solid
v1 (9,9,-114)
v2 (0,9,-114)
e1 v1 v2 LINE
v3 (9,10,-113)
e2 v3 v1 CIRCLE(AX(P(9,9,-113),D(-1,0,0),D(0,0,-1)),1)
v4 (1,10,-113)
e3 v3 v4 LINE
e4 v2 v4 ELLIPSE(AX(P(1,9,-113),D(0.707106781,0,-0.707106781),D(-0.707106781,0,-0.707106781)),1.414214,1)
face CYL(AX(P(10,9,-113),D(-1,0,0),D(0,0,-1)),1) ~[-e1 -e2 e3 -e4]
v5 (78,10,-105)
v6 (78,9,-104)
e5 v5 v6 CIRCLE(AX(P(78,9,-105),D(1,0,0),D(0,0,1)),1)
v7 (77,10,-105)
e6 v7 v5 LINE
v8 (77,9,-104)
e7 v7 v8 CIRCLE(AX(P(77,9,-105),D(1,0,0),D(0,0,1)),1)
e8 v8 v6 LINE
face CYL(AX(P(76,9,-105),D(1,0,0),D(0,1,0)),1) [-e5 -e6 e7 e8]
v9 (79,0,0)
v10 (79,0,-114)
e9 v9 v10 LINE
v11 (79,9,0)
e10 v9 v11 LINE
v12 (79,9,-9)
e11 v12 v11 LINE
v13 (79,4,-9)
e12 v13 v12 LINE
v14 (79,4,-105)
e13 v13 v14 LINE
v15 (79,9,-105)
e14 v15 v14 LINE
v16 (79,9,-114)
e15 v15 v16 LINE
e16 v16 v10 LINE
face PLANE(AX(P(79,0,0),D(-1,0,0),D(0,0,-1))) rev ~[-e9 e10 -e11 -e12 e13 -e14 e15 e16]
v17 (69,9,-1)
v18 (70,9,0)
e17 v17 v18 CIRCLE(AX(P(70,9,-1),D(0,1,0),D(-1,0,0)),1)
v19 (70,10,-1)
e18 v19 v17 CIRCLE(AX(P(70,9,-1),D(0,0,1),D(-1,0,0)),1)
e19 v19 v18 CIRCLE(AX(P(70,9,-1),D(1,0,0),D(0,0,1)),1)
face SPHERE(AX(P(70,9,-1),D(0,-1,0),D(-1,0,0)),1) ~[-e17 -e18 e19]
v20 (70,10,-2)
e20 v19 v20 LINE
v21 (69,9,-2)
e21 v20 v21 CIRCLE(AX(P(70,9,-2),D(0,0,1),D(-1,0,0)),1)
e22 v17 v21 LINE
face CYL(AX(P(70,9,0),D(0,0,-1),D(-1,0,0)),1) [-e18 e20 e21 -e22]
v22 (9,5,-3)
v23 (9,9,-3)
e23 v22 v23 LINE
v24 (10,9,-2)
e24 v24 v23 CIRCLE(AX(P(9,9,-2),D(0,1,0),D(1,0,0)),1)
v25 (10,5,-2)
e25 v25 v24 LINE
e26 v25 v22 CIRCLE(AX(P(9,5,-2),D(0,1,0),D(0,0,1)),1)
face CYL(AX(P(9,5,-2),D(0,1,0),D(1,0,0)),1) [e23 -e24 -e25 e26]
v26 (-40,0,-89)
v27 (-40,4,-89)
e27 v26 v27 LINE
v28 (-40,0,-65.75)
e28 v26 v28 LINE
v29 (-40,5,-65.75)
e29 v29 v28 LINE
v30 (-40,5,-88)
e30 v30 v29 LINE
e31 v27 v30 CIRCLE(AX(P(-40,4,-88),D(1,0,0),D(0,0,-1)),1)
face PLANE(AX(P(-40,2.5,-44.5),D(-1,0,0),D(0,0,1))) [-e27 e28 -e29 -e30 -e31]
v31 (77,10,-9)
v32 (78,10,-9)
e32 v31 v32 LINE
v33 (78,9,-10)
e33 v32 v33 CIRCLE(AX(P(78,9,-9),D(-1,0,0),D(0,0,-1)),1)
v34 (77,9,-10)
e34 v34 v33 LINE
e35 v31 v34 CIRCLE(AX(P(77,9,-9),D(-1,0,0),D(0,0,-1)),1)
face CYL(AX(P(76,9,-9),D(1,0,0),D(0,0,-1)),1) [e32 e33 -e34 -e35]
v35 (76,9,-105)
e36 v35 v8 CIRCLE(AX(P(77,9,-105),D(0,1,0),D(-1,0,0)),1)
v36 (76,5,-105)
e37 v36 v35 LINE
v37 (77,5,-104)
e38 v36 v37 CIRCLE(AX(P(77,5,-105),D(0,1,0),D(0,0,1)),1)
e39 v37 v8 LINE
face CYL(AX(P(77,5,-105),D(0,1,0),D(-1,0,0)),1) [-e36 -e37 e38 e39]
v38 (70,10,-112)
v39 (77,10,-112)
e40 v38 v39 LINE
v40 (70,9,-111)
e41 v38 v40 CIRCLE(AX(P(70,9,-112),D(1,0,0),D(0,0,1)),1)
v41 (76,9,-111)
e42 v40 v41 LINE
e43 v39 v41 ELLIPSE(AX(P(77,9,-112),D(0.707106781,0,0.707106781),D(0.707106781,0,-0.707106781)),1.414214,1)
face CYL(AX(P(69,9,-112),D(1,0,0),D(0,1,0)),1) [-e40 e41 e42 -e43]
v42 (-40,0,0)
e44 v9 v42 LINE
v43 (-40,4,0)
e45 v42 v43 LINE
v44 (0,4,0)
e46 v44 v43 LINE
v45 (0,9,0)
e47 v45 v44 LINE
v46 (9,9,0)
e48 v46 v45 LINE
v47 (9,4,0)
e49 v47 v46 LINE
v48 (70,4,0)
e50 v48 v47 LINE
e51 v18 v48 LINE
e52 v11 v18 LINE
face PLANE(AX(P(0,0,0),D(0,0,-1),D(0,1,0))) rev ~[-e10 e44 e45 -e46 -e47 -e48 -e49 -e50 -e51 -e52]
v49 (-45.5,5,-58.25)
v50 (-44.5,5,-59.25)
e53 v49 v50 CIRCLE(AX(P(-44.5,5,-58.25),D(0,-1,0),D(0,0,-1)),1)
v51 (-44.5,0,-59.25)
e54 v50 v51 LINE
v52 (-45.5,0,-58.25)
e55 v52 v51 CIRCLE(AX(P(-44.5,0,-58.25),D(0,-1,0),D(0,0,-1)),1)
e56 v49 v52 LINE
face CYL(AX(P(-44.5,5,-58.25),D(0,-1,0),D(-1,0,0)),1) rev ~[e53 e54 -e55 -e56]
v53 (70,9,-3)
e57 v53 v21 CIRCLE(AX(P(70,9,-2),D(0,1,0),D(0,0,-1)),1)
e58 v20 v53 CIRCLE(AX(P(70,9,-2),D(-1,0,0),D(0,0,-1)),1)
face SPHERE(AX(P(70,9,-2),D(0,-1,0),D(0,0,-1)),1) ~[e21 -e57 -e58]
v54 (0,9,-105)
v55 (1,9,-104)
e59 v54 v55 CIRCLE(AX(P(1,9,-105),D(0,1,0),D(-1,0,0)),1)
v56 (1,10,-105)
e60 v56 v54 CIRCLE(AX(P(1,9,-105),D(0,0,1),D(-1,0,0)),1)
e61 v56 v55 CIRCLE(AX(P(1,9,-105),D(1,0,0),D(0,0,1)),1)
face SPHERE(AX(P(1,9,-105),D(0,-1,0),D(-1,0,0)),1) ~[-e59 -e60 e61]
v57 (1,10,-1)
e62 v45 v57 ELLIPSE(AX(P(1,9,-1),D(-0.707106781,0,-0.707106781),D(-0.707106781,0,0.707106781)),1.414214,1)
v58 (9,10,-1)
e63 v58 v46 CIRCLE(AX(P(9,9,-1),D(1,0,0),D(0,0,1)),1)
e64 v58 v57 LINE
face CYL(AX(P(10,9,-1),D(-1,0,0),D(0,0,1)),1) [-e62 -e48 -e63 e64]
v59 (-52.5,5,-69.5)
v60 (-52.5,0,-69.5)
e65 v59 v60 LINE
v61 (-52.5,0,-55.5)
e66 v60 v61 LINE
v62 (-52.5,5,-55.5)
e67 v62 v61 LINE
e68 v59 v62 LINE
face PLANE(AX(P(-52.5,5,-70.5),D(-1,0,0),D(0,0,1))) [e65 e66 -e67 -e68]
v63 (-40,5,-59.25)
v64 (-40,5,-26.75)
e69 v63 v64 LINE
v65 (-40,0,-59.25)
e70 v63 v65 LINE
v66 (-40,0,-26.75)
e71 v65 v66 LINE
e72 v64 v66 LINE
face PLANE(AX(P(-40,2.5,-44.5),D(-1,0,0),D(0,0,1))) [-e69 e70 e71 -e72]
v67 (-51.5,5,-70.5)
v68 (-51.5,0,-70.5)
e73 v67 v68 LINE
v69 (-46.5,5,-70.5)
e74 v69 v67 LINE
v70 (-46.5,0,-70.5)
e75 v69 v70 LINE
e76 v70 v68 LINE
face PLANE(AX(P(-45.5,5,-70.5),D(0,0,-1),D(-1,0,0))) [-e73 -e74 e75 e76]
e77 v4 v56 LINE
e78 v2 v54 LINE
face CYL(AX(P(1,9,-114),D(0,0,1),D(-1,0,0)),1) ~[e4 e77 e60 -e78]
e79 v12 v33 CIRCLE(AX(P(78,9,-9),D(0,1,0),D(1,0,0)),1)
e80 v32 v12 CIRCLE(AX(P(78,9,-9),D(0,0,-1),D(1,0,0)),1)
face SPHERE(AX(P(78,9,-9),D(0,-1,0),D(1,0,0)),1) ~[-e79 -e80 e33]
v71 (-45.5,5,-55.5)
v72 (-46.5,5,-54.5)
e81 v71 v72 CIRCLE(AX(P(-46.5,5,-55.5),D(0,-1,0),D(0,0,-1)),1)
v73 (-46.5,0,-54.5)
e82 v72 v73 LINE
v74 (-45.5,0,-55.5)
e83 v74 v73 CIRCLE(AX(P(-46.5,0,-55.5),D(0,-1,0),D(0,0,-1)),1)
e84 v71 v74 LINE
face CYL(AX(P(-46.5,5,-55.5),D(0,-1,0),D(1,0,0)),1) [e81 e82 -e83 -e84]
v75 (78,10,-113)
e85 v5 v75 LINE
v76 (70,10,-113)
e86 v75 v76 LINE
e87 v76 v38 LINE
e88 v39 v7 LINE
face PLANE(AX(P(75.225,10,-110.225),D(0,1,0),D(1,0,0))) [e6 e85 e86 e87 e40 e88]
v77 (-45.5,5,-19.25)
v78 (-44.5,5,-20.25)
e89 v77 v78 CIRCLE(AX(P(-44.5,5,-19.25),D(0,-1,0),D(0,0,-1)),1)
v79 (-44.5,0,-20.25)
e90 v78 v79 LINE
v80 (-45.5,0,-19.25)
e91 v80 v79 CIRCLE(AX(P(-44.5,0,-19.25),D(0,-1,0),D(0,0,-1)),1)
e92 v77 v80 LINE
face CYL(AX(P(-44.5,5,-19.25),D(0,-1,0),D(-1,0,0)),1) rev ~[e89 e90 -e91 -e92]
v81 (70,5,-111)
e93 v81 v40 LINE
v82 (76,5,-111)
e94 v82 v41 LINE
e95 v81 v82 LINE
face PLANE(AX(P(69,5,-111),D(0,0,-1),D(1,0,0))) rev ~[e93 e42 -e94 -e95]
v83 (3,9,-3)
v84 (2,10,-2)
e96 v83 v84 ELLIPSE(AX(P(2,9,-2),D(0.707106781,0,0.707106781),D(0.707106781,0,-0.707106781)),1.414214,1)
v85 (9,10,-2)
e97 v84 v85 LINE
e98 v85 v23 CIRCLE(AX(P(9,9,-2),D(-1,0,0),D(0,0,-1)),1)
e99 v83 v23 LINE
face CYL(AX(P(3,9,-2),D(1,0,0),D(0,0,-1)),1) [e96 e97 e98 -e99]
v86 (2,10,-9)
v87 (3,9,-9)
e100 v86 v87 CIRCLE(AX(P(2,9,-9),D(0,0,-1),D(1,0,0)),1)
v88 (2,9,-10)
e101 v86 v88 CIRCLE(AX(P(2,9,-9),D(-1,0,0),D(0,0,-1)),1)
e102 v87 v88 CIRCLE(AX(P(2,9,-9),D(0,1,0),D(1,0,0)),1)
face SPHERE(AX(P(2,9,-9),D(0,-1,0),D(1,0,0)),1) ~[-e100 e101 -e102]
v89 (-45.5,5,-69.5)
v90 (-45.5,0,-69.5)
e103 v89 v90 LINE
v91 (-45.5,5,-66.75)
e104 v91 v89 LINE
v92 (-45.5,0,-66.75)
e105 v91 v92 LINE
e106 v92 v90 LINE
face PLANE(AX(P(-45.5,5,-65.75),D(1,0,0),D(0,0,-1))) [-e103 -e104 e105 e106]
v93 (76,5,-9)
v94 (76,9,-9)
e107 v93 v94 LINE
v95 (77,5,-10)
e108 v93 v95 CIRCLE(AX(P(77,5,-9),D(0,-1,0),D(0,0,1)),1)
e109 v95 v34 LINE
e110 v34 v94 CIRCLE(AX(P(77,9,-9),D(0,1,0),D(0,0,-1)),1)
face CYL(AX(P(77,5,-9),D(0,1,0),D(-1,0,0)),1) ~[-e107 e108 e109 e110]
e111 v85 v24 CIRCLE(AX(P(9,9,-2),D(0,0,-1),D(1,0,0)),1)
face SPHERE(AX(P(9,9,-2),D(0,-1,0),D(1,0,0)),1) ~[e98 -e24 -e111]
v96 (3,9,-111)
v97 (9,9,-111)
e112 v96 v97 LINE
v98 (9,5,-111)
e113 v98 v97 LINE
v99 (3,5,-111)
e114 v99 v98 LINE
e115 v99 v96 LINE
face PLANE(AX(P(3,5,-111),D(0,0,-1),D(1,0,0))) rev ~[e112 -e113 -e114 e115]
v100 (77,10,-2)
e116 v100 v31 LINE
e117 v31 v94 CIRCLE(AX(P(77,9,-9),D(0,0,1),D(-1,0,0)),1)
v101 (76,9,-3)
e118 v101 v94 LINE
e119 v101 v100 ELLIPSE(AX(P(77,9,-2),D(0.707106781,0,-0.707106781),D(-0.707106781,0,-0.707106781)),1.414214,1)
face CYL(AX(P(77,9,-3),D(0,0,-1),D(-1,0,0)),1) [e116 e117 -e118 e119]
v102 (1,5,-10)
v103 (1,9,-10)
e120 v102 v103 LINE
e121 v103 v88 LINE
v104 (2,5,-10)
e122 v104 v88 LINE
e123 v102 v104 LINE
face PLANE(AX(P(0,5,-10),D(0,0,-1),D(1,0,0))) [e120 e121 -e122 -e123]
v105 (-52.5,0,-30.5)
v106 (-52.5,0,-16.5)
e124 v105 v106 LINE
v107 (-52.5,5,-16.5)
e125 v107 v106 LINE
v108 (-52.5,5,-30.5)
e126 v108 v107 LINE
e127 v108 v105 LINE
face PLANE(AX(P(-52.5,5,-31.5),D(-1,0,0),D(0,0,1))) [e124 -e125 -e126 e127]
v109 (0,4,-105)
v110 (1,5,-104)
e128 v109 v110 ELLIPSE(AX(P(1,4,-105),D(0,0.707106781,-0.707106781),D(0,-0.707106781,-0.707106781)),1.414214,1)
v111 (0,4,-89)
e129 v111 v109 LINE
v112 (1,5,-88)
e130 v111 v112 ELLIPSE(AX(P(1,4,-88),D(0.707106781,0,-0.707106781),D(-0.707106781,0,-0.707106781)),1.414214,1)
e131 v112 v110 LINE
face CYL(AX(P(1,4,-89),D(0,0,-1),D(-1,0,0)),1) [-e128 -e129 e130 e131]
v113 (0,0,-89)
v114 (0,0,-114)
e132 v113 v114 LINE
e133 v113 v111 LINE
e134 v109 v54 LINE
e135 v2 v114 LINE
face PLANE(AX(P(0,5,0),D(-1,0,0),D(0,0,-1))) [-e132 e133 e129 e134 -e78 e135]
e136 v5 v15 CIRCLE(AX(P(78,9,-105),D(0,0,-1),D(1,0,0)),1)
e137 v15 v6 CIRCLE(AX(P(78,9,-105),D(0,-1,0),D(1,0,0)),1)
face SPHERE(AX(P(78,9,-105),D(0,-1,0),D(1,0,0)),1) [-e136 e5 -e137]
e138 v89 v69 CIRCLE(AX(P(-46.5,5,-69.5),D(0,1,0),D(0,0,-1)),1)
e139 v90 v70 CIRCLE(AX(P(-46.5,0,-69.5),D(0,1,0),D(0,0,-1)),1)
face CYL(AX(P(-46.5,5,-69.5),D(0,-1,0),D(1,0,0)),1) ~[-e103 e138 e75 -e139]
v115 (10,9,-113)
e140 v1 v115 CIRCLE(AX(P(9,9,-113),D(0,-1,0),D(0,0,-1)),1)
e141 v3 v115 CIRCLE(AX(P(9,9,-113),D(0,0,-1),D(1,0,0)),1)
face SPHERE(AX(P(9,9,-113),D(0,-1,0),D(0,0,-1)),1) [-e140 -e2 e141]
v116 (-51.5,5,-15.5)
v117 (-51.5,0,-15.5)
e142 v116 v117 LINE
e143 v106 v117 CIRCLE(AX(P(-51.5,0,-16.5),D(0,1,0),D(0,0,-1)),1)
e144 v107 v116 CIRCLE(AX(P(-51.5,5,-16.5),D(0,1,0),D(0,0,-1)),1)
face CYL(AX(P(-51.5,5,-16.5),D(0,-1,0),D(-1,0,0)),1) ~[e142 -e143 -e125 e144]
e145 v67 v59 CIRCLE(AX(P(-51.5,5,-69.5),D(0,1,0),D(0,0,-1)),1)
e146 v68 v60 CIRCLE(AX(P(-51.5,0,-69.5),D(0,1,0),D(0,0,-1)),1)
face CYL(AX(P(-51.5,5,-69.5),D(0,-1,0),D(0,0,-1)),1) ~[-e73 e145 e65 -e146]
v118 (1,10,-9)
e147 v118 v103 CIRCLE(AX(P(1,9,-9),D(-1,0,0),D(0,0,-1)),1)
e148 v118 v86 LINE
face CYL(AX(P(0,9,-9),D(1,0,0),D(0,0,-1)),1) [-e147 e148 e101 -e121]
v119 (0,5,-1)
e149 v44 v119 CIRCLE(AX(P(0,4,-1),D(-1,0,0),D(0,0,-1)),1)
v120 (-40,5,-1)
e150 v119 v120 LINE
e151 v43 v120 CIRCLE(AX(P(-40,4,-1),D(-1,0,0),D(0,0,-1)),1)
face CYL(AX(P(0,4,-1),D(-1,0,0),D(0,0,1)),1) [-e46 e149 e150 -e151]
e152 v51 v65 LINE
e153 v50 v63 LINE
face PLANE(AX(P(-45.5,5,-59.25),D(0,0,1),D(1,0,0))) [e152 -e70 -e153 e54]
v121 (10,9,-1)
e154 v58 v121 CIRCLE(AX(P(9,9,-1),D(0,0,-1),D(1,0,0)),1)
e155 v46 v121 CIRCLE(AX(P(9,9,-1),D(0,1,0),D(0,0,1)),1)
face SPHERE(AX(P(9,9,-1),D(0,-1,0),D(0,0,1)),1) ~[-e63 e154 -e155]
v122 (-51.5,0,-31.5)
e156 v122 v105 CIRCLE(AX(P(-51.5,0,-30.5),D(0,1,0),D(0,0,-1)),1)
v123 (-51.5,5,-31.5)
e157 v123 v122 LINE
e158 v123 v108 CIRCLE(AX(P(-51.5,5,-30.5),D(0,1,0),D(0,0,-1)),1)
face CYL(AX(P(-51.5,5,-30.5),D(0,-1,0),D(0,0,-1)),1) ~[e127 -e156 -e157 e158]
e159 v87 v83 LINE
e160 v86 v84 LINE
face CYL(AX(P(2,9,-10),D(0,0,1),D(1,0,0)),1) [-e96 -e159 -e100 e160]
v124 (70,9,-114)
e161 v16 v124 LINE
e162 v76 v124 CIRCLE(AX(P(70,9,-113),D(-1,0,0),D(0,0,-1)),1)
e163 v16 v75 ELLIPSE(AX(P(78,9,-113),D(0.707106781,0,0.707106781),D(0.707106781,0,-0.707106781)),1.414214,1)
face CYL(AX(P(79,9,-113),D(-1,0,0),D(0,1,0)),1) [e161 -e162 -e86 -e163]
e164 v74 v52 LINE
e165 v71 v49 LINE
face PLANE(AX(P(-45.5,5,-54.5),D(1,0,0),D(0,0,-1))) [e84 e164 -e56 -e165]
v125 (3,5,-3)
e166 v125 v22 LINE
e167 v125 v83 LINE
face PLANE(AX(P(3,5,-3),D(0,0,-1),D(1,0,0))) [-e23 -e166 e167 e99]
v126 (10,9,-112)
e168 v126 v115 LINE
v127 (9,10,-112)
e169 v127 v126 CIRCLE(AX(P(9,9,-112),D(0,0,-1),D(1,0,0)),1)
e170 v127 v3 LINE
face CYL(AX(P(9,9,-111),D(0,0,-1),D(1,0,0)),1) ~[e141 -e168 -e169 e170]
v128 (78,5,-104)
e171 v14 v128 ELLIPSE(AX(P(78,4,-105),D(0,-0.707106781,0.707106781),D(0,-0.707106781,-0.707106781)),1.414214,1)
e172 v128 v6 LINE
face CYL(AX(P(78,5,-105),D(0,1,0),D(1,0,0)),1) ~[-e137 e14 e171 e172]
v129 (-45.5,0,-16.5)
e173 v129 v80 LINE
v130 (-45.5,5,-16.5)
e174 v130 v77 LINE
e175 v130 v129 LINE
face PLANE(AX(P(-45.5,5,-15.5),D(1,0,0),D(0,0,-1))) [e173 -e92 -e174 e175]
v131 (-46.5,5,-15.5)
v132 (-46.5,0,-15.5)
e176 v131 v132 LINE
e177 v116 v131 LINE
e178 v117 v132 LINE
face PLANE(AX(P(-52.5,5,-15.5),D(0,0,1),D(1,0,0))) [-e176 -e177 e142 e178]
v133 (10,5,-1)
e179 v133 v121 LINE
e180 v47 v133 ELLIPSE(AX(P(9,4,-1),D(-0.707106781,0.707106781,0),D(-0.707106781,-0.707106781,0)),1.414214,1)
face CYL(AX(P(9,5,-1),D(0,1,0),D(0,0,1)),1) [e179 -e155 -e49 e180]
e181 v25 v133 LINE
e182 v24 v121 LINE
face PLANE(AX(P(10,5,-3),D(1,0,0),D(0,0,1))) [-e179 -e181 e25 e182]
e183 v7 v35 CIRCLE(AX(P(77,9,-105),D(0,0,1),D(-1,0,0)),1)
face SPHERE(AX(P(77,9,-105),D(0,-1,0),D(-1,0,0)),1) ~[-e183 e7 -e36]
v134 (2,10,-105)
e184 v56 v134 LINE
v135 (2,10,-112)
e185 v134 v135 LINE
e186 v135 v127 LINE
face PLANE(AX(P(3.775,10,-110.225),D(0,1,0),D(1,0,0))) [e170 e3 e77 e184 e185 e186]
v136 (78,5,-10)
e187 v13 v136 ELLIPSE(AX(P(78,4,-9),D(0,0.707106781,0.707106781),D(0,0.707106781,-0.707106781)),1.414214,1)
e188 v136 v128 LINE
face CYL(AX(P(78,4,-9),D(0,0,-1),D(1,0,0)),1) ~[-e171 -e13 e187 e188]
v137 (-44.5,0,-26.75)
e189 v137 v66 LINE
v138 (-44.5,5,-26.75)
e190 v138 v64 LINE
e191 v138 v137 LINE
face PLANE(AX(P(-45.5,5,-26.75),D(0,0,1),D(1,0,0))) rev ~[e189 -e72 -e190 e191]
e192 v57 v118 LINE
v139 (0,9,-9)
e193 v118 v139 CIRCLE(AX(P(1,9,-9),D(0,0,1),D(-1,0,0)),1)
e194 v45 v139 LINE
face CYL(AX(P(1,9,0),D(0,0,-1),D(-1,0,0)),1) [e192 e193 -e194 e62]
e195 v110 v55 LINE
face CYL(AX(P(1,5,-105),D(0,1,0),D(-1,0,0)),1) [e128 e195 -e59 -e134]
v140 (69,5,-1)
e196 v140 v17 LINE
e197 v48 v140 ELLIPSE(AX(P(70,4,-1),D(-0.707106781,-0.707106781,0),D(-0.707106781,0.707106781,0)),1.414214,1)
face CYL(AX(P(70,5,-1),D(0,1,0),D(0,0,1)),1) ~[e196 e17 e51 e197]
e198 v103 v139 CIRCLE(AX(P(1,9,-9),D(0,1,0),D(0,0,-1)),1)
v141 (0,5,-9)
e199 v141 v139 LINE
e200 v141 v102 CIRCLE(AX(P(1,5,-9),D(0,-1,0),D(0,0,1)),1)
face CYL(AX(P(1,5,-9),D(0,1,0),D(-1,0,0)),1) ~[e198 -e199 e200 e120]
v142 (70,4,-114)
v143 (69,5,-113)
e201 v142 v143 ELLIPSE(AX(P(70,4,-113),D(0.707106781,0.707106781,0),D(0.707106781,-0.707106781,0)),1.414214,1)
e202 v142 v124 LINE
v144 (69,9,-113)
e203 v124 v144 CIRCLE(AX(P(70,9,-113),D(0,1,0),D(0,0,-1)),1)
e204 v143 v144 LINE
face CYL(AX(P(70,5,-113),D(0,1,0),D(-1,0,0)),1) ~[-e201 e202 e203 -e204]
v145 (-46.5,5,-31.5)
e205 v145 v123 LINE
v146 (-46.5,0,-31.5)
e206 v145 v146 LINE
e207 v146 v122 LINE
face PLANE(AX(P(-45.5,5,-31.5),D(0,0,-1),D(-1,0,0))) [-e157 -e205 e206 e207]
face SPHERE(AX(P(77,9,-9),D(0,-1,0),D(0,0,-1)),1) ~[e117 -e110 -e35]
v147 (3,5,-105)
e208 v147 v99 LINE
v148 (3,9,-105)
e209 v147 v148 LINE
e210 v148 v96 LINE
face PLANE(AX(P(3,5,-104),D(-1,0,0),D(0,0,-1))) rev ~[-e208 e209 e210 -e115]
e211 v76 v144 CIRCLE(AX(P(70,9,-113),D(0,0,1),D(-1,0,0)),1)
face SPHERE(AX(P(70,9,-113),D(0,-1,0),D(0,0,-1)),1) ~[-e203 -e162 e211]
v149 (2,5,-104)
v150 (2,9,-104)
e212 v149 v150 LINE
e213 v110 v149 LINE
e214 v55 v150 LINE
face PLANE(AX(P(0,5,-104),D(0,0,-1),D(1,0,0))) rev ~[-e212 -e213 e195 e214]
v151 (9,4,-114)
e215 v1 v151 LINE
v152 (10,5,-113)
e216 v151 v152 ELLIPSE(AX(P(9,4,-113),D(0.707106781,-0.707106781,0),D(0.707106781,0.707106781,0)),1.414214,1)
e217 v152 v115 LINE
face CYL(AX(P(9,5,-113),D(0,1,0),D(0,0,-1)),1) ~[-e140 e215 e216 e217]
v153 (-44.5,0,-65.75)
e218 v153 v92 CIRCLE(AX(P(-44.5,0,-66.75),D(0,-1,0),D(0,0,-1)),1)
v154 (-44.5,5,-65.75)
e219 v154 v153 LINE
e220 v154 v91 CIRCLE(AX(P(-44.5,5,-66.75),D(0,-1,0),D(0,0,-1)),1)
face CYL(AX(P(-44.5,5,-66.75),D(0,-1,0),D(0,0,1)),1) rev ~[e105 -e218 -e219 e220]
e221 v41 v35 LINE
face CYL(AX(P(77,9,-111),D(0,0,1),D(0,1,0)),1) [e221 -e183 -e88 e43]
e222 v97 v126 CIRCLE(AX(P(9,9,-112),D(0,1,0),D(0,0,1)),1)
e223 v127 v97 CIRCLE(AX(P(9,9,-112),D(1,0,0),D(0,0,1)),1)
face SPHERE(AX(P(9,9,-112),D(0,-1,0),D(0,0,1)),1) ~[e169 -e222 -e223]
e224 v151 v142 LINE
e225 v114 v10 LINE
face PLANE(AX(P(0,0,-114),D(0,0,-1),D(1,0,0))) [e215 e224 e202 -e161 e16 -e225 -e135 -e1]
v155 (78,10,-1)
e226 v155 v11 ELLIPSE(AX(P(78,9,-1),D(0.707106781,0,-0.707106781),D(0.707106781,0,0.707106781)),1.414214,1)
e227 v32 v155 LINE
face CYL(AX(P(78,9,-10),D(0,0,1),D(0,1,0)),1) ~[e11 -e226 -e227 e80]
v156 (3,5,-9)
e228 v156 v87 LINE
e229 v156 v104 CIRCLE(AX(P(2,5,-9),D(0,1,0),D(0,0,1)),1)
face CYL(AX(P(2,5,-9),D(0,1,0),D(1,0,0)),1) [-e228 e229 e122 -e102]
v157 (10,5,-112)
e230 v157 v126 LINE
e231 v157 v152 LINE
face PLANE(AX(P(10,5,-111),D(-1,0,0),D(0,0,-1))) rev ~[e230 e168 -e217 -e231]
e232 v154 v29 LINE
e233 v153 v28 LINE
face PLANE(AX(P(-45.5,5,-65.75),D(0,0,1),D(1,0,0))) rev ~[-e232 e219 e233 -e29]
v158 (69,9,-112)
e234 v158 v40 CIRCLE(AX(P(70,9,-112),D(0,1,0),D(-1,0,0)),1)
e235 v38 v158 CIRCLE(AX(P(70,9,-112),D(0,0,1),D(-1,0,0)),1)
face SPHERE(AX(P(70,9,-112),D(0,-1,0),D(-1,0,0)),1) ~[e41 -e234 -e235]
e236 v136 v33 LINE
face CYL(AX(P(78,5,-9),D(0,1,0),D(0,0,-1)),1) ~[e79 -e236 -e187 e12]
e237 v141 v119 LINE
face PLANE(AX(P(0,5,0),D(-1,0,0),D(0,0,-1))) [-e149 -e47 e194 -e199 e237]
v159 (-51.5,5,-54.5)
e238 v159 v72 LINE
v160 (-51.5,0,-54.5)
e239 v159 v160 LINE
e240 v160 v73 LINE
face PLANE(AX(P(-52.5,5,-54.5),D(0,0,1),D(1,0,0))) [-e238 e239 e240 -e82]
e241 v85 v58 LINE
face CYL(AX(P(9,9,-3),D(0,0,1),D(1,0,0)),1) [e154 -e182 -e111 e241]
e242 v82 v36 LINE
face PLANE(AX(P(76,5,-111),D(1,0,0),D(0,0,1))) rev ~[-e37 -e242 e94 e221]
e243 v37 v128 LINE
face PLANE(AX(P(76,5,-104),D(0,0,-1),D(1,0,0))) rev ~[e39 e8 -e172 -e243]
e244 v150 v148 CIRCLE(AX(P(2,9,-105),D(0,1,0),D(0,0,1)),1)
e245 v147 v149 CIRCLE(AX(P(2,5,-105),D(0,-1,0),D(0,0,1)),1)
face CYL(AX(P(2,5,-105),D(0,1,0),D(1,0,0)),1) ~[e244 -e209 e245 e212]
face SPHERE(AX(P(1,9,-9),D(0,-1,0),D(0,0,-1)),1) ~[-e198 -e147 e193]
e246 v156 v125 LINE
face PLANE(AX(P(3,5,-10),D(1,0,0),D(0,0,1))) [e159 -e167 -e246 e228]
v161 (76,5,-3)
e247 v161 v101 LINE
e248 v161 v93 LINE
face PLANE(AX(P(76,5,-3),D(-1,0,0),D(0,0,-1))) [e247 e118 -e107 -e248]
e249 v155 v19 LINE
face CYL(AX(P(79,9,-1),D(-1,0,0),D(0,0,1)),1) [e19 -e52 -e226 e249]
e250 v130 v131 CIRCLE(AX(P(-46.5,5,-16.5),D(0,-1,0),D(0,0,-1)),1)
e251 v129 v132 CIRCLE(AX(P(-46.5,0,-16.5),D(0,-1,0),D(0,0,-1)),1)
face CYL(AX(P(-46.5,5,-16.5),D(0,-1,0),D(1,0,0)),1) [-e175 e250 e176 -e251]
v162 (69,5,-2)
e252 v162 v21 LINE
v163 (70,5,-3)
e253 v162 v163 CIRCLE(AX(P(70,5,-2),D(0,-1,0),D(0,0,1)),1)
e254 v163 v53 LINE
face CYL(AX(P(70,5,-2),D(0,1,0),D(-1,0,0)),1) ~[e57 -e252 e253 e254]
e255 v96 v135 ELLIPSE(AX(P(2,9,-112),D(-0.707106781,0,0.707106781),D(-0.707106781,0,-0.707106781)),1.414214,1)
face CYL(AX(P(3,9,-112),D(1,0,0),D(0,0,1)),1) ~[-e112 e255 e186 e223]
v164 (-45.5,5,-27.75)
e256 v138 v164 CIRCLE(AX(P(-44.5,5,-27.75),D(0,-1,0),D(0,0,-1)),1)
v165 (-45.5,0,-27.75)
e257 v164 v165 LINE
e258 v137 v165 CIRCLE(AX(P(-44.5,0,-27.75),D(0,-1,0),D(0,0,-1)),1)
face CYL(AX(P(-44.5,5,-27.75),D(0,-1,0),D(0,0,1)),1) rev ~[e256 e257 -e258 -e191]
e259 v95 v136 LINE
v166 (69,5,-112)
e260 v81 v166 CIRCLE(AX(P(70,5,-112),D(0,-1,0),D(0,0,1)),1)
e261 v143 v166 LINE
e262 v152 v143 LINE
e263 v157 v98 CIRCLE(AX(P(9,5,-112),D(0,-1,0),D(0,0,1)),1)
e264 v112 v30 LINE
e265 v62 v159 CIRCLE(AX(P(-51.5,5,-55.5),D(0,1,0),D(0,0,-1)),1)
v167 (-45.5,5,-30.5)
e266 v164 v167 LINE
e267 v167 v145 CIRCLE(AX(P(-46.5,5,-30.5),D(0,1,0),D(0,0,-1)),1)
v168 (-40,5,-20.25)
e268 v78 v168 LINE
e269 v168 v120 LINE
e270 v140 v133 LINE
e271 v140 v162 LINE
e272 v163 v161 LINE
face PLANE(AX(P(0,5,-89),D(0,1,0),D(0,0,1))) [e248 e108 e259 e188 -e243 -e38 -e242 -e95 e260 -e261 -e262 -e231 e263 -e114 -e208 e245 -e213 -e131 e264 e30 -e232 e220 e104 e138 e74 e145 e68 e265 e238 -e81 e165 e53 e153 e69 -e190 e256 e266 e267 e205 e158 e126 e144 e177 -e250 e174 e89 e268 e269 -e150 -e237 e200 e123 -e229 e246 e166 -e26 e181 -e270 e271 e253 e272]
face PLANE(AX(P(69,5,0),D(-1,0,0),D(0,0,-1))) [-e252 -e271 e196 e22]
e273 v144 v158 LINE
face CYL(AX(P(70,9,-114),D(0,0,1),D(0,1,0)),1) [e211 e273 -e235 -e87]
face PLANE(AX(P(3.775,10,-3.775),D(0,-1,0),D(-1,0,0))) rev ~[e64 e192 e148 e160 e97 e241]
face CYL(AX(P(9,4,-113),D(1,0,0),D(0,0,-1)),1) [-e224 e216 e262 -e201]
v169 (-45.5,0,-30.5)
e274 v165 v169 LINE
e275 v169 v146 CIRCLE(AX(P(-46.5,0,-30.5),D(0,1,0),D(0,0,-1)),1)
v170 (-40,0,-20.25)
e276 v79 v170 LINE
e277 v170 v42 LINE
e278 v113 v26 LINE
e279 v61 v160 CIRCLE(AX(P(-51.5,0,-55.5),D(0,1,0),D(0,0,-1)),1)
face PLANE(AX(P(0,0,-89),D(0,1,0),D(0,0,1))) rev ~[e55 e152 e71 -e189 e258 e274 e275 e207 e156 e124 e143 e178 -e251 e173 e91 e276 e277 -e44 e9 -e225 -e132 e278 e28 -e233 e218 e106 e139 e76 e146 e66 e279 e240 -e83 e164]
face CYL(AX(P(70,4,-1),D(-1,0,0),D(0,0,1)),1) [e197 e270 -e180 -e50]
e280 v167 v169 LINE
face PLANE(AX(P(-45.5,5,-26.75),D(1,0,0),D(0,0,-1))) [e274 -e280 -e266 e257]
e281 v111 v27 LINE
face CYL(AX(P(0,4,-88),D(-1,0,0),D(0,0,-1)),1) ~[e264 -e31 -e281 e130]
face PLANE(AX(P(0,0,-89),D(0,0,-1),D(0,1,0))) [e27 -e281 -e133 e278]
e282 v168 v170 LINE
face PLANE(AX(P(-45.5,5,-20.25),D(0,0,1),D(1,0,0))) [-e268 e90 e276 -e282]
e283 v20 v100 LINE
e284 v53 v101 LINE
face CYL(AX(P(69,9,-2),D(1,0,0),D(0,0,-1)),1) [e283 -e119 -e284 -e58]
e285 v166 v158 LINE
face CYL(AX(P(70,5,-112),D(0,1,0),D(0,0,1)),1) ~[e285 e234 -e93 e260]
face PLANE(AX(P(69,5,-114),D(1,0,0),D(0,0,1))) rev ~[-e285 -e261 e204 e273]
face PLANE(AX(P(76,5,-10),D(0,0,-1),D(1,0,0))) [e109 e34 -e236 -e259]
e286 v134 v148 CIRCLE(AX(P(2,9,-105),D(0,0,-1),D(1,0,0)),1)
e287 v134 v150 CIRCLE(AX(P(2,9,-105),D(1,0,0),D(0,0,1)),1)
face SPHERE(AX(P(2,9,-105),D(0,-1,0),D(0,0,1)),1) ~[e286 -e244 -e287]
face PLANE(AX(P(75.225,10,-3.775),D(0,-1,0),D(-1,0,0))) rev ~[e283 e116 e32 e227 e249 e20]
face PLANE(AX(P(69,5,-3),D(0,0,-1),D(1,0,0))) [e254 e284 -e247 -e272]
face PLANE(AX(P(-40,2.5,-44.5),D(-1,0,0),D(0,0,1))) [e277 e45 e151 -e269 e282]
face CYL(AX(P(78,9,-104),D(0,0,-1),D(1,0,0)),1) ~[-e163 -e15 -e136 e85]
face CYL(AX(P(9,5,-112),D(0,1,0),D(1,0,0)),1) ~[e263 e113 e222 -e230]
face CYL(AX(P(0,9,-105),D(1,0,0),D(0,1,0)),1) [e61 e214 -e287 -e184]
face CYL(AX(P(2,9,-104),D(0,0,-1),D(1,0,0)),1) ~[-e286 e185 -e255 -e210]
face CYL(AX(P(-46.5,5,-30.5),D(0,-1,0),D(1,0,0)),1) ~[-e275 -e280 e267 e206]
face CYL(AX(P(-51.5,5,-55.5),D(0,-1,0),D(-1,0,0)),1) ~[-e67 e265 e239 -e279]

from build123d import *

# Parameters (mm, degrees)
SKETCH1_W           = 79
SKETCH1_H           = 114
BOSS_EXTRUDE1_DEPTH = 5
BOSS_EXTRUDE2_DEPTH = 5
FILLET1_R           = 1
SKETCH3_W           = 89
SKETCH3_H           = 5
BOSS_EXTRUDE3_DEPTH = 40
BOSS_EXTRUDE4_DEPTH = 5
FILLET2_R           = 1
FILLET3_R           = 1


with BuildPart() as part:
    # Sketch1 → Boss-Extrude1 (new body)
    with BuildSketch(Plane(origin=(0, 0, 0), x_dir=(1, 0, 0), z_dir=(0, 1, 0))):
        with Locations((39.5, 57)):
            Rectangle(SKETCH1_W, SKETCH1_H)
    extrude(amount=BOSS_EXTRUDE1_DEPTH)

    # Sketch2 → Boss-Extrude2 (add)
    with BuildSketch(Plane(origin=(0, 5, 0), x_dir=(1, 0, 0), z_dir=(0, 1, 0))):
        Polygon((0, 0), (0, 10), (3, 10), (3, 3), (10, 3), (10, 0), align=None)
        Polygon((79, 0), (69, 0), (69, 3), (76, 3), (76, 10), (79, 10), align=None)
        Polygon((79, 114), (69, 114), (69, 111), (76, 111), (76, 104), (79, 104), align=None)
        Polygon((0, 114), (0, 104), (3, 104), (3, 111), (10, 111), (10, 114), align=None)
    extrude(amount=BOSS_EXTRUDE2_DEPTH)

    # Fillet1
    fillet1_edges = [part.edges().sort_by_distance(p)[0] for p in [
        (74, 10, 0),
        (79, 10, -5),
        (77.5, 10, -10),
        (76, 10, -6.5),
        (72.5, 10, -3),
        (69, 10, -1.5),
        (69, 7.5, 0),
        (69, 7.5, -3),
        (76, 7.5, -10),
        (79, 7.5, -10),
        (79, 10, -109),
        (74, 10, -114),
        (69, 10, -112.5),
        (72.5, 10, -111),
        (76, 10, -107.5),
        (77.5, 10, -104),
        (79, 7.5, -104),
        (76, 7.5, -104),
        (69, 7.5, -111),
        (69, 7.5, -114),
        (10, 7.5, -111),
        (3, 7.5, -104),
        (10, 7.5, -114),
        (0, 7.5, -104),
        (1.5, 10, -104),
        (10, 10, -112.5),
        (6.5, 10, -111),
        (5, 10, -114),
        (3, 10, -107.5),
        (0, 10, -109),
        (3, 7.5, -10),
        (0, 7.5, -10),
        (10, 7.5, -3),
        (10, 7.5, 0),
        (10, 10, -1.5),
        (1.5, 10, -10),
        (6.5, 10, -3),
        (3, 10, -6.5),
        (0, 10, -5),
        (5, 10, 0),
    ]]
    fillet(fillet1_edges, radius=FILLET1_R)

    # Sketch3 → Boss-Extrude3 (add)
    with BuildSketch(Plane.ZY):
        with Locations((-44.5, 2.5)):
            Rectangle(SKETCH3_W, SKETCH3_H)
    extrude(amount=BOSS_EXTRUDE3_DEPTH)

    # Sketch4 → Boss-Extrude4 (add)
    with BuildSketch(Plane(origin=(0, 5, 0), x_dir=(1, 0, 0), z_dir=(0, 1, 0))):
        Polygon((-45.5, 59.25), (-40, 59.25), (-40, 65.75), (-45.5, 65.75), (-45.5, 70.5), (-52.5, 70.5), (-52.5, 54.5), (-45.5, 54.5), align=None)
        Polygon((-45.5, 20.25), (-40, 20.25), (-40, 26.75), (-45.5, 26.75), (-45.5, 31.5), (-52.5, 31.5), (-52.5, 15.5), (-45.5, 15.5), align=None)
    extrude(amount=-BOSS_EXTRUDE4_DEPTH)

    # Fillet2
    fillet2_edges = [part.edges().sort_by_distance(p)[0] for p in [
        (-52.5, 2.5, -70.5),
        (-45.5, 2.5, -70.5),
        (-45.5, 2.5, -65.75),
        (-45.5, 2.5, -59.25),
        (-45.5, 2.5, -54.5),
        (-52.5, 2.5, -54.5),
        (-45.5, 2.5, -26.75),
        (-45.5, 2.5, -31.5),
        (-52.5, 2.5, -31.5),
        (-52.5, 2.5, -15.5),
        (-45.5, 2.5, -15.5),
        (-45.5, 2.5, -20.25),
    ]]
    fillet(fillet2_edges, radius=FILLET2_R)

    # Fillet3
    fillet3_edges = [part.edges().sort_by_distance(p)[0] for p in [
        (-20, 5, -89),
        (0, 5, -97),
        (39.5, 5, -114),
        (79, 5, -57),
        (39.5, 5, 0),
        (-20, 5, 0),
    ]]
    fillet(fillet3_edges, radius=FILLET3_R)


solid = part.part
